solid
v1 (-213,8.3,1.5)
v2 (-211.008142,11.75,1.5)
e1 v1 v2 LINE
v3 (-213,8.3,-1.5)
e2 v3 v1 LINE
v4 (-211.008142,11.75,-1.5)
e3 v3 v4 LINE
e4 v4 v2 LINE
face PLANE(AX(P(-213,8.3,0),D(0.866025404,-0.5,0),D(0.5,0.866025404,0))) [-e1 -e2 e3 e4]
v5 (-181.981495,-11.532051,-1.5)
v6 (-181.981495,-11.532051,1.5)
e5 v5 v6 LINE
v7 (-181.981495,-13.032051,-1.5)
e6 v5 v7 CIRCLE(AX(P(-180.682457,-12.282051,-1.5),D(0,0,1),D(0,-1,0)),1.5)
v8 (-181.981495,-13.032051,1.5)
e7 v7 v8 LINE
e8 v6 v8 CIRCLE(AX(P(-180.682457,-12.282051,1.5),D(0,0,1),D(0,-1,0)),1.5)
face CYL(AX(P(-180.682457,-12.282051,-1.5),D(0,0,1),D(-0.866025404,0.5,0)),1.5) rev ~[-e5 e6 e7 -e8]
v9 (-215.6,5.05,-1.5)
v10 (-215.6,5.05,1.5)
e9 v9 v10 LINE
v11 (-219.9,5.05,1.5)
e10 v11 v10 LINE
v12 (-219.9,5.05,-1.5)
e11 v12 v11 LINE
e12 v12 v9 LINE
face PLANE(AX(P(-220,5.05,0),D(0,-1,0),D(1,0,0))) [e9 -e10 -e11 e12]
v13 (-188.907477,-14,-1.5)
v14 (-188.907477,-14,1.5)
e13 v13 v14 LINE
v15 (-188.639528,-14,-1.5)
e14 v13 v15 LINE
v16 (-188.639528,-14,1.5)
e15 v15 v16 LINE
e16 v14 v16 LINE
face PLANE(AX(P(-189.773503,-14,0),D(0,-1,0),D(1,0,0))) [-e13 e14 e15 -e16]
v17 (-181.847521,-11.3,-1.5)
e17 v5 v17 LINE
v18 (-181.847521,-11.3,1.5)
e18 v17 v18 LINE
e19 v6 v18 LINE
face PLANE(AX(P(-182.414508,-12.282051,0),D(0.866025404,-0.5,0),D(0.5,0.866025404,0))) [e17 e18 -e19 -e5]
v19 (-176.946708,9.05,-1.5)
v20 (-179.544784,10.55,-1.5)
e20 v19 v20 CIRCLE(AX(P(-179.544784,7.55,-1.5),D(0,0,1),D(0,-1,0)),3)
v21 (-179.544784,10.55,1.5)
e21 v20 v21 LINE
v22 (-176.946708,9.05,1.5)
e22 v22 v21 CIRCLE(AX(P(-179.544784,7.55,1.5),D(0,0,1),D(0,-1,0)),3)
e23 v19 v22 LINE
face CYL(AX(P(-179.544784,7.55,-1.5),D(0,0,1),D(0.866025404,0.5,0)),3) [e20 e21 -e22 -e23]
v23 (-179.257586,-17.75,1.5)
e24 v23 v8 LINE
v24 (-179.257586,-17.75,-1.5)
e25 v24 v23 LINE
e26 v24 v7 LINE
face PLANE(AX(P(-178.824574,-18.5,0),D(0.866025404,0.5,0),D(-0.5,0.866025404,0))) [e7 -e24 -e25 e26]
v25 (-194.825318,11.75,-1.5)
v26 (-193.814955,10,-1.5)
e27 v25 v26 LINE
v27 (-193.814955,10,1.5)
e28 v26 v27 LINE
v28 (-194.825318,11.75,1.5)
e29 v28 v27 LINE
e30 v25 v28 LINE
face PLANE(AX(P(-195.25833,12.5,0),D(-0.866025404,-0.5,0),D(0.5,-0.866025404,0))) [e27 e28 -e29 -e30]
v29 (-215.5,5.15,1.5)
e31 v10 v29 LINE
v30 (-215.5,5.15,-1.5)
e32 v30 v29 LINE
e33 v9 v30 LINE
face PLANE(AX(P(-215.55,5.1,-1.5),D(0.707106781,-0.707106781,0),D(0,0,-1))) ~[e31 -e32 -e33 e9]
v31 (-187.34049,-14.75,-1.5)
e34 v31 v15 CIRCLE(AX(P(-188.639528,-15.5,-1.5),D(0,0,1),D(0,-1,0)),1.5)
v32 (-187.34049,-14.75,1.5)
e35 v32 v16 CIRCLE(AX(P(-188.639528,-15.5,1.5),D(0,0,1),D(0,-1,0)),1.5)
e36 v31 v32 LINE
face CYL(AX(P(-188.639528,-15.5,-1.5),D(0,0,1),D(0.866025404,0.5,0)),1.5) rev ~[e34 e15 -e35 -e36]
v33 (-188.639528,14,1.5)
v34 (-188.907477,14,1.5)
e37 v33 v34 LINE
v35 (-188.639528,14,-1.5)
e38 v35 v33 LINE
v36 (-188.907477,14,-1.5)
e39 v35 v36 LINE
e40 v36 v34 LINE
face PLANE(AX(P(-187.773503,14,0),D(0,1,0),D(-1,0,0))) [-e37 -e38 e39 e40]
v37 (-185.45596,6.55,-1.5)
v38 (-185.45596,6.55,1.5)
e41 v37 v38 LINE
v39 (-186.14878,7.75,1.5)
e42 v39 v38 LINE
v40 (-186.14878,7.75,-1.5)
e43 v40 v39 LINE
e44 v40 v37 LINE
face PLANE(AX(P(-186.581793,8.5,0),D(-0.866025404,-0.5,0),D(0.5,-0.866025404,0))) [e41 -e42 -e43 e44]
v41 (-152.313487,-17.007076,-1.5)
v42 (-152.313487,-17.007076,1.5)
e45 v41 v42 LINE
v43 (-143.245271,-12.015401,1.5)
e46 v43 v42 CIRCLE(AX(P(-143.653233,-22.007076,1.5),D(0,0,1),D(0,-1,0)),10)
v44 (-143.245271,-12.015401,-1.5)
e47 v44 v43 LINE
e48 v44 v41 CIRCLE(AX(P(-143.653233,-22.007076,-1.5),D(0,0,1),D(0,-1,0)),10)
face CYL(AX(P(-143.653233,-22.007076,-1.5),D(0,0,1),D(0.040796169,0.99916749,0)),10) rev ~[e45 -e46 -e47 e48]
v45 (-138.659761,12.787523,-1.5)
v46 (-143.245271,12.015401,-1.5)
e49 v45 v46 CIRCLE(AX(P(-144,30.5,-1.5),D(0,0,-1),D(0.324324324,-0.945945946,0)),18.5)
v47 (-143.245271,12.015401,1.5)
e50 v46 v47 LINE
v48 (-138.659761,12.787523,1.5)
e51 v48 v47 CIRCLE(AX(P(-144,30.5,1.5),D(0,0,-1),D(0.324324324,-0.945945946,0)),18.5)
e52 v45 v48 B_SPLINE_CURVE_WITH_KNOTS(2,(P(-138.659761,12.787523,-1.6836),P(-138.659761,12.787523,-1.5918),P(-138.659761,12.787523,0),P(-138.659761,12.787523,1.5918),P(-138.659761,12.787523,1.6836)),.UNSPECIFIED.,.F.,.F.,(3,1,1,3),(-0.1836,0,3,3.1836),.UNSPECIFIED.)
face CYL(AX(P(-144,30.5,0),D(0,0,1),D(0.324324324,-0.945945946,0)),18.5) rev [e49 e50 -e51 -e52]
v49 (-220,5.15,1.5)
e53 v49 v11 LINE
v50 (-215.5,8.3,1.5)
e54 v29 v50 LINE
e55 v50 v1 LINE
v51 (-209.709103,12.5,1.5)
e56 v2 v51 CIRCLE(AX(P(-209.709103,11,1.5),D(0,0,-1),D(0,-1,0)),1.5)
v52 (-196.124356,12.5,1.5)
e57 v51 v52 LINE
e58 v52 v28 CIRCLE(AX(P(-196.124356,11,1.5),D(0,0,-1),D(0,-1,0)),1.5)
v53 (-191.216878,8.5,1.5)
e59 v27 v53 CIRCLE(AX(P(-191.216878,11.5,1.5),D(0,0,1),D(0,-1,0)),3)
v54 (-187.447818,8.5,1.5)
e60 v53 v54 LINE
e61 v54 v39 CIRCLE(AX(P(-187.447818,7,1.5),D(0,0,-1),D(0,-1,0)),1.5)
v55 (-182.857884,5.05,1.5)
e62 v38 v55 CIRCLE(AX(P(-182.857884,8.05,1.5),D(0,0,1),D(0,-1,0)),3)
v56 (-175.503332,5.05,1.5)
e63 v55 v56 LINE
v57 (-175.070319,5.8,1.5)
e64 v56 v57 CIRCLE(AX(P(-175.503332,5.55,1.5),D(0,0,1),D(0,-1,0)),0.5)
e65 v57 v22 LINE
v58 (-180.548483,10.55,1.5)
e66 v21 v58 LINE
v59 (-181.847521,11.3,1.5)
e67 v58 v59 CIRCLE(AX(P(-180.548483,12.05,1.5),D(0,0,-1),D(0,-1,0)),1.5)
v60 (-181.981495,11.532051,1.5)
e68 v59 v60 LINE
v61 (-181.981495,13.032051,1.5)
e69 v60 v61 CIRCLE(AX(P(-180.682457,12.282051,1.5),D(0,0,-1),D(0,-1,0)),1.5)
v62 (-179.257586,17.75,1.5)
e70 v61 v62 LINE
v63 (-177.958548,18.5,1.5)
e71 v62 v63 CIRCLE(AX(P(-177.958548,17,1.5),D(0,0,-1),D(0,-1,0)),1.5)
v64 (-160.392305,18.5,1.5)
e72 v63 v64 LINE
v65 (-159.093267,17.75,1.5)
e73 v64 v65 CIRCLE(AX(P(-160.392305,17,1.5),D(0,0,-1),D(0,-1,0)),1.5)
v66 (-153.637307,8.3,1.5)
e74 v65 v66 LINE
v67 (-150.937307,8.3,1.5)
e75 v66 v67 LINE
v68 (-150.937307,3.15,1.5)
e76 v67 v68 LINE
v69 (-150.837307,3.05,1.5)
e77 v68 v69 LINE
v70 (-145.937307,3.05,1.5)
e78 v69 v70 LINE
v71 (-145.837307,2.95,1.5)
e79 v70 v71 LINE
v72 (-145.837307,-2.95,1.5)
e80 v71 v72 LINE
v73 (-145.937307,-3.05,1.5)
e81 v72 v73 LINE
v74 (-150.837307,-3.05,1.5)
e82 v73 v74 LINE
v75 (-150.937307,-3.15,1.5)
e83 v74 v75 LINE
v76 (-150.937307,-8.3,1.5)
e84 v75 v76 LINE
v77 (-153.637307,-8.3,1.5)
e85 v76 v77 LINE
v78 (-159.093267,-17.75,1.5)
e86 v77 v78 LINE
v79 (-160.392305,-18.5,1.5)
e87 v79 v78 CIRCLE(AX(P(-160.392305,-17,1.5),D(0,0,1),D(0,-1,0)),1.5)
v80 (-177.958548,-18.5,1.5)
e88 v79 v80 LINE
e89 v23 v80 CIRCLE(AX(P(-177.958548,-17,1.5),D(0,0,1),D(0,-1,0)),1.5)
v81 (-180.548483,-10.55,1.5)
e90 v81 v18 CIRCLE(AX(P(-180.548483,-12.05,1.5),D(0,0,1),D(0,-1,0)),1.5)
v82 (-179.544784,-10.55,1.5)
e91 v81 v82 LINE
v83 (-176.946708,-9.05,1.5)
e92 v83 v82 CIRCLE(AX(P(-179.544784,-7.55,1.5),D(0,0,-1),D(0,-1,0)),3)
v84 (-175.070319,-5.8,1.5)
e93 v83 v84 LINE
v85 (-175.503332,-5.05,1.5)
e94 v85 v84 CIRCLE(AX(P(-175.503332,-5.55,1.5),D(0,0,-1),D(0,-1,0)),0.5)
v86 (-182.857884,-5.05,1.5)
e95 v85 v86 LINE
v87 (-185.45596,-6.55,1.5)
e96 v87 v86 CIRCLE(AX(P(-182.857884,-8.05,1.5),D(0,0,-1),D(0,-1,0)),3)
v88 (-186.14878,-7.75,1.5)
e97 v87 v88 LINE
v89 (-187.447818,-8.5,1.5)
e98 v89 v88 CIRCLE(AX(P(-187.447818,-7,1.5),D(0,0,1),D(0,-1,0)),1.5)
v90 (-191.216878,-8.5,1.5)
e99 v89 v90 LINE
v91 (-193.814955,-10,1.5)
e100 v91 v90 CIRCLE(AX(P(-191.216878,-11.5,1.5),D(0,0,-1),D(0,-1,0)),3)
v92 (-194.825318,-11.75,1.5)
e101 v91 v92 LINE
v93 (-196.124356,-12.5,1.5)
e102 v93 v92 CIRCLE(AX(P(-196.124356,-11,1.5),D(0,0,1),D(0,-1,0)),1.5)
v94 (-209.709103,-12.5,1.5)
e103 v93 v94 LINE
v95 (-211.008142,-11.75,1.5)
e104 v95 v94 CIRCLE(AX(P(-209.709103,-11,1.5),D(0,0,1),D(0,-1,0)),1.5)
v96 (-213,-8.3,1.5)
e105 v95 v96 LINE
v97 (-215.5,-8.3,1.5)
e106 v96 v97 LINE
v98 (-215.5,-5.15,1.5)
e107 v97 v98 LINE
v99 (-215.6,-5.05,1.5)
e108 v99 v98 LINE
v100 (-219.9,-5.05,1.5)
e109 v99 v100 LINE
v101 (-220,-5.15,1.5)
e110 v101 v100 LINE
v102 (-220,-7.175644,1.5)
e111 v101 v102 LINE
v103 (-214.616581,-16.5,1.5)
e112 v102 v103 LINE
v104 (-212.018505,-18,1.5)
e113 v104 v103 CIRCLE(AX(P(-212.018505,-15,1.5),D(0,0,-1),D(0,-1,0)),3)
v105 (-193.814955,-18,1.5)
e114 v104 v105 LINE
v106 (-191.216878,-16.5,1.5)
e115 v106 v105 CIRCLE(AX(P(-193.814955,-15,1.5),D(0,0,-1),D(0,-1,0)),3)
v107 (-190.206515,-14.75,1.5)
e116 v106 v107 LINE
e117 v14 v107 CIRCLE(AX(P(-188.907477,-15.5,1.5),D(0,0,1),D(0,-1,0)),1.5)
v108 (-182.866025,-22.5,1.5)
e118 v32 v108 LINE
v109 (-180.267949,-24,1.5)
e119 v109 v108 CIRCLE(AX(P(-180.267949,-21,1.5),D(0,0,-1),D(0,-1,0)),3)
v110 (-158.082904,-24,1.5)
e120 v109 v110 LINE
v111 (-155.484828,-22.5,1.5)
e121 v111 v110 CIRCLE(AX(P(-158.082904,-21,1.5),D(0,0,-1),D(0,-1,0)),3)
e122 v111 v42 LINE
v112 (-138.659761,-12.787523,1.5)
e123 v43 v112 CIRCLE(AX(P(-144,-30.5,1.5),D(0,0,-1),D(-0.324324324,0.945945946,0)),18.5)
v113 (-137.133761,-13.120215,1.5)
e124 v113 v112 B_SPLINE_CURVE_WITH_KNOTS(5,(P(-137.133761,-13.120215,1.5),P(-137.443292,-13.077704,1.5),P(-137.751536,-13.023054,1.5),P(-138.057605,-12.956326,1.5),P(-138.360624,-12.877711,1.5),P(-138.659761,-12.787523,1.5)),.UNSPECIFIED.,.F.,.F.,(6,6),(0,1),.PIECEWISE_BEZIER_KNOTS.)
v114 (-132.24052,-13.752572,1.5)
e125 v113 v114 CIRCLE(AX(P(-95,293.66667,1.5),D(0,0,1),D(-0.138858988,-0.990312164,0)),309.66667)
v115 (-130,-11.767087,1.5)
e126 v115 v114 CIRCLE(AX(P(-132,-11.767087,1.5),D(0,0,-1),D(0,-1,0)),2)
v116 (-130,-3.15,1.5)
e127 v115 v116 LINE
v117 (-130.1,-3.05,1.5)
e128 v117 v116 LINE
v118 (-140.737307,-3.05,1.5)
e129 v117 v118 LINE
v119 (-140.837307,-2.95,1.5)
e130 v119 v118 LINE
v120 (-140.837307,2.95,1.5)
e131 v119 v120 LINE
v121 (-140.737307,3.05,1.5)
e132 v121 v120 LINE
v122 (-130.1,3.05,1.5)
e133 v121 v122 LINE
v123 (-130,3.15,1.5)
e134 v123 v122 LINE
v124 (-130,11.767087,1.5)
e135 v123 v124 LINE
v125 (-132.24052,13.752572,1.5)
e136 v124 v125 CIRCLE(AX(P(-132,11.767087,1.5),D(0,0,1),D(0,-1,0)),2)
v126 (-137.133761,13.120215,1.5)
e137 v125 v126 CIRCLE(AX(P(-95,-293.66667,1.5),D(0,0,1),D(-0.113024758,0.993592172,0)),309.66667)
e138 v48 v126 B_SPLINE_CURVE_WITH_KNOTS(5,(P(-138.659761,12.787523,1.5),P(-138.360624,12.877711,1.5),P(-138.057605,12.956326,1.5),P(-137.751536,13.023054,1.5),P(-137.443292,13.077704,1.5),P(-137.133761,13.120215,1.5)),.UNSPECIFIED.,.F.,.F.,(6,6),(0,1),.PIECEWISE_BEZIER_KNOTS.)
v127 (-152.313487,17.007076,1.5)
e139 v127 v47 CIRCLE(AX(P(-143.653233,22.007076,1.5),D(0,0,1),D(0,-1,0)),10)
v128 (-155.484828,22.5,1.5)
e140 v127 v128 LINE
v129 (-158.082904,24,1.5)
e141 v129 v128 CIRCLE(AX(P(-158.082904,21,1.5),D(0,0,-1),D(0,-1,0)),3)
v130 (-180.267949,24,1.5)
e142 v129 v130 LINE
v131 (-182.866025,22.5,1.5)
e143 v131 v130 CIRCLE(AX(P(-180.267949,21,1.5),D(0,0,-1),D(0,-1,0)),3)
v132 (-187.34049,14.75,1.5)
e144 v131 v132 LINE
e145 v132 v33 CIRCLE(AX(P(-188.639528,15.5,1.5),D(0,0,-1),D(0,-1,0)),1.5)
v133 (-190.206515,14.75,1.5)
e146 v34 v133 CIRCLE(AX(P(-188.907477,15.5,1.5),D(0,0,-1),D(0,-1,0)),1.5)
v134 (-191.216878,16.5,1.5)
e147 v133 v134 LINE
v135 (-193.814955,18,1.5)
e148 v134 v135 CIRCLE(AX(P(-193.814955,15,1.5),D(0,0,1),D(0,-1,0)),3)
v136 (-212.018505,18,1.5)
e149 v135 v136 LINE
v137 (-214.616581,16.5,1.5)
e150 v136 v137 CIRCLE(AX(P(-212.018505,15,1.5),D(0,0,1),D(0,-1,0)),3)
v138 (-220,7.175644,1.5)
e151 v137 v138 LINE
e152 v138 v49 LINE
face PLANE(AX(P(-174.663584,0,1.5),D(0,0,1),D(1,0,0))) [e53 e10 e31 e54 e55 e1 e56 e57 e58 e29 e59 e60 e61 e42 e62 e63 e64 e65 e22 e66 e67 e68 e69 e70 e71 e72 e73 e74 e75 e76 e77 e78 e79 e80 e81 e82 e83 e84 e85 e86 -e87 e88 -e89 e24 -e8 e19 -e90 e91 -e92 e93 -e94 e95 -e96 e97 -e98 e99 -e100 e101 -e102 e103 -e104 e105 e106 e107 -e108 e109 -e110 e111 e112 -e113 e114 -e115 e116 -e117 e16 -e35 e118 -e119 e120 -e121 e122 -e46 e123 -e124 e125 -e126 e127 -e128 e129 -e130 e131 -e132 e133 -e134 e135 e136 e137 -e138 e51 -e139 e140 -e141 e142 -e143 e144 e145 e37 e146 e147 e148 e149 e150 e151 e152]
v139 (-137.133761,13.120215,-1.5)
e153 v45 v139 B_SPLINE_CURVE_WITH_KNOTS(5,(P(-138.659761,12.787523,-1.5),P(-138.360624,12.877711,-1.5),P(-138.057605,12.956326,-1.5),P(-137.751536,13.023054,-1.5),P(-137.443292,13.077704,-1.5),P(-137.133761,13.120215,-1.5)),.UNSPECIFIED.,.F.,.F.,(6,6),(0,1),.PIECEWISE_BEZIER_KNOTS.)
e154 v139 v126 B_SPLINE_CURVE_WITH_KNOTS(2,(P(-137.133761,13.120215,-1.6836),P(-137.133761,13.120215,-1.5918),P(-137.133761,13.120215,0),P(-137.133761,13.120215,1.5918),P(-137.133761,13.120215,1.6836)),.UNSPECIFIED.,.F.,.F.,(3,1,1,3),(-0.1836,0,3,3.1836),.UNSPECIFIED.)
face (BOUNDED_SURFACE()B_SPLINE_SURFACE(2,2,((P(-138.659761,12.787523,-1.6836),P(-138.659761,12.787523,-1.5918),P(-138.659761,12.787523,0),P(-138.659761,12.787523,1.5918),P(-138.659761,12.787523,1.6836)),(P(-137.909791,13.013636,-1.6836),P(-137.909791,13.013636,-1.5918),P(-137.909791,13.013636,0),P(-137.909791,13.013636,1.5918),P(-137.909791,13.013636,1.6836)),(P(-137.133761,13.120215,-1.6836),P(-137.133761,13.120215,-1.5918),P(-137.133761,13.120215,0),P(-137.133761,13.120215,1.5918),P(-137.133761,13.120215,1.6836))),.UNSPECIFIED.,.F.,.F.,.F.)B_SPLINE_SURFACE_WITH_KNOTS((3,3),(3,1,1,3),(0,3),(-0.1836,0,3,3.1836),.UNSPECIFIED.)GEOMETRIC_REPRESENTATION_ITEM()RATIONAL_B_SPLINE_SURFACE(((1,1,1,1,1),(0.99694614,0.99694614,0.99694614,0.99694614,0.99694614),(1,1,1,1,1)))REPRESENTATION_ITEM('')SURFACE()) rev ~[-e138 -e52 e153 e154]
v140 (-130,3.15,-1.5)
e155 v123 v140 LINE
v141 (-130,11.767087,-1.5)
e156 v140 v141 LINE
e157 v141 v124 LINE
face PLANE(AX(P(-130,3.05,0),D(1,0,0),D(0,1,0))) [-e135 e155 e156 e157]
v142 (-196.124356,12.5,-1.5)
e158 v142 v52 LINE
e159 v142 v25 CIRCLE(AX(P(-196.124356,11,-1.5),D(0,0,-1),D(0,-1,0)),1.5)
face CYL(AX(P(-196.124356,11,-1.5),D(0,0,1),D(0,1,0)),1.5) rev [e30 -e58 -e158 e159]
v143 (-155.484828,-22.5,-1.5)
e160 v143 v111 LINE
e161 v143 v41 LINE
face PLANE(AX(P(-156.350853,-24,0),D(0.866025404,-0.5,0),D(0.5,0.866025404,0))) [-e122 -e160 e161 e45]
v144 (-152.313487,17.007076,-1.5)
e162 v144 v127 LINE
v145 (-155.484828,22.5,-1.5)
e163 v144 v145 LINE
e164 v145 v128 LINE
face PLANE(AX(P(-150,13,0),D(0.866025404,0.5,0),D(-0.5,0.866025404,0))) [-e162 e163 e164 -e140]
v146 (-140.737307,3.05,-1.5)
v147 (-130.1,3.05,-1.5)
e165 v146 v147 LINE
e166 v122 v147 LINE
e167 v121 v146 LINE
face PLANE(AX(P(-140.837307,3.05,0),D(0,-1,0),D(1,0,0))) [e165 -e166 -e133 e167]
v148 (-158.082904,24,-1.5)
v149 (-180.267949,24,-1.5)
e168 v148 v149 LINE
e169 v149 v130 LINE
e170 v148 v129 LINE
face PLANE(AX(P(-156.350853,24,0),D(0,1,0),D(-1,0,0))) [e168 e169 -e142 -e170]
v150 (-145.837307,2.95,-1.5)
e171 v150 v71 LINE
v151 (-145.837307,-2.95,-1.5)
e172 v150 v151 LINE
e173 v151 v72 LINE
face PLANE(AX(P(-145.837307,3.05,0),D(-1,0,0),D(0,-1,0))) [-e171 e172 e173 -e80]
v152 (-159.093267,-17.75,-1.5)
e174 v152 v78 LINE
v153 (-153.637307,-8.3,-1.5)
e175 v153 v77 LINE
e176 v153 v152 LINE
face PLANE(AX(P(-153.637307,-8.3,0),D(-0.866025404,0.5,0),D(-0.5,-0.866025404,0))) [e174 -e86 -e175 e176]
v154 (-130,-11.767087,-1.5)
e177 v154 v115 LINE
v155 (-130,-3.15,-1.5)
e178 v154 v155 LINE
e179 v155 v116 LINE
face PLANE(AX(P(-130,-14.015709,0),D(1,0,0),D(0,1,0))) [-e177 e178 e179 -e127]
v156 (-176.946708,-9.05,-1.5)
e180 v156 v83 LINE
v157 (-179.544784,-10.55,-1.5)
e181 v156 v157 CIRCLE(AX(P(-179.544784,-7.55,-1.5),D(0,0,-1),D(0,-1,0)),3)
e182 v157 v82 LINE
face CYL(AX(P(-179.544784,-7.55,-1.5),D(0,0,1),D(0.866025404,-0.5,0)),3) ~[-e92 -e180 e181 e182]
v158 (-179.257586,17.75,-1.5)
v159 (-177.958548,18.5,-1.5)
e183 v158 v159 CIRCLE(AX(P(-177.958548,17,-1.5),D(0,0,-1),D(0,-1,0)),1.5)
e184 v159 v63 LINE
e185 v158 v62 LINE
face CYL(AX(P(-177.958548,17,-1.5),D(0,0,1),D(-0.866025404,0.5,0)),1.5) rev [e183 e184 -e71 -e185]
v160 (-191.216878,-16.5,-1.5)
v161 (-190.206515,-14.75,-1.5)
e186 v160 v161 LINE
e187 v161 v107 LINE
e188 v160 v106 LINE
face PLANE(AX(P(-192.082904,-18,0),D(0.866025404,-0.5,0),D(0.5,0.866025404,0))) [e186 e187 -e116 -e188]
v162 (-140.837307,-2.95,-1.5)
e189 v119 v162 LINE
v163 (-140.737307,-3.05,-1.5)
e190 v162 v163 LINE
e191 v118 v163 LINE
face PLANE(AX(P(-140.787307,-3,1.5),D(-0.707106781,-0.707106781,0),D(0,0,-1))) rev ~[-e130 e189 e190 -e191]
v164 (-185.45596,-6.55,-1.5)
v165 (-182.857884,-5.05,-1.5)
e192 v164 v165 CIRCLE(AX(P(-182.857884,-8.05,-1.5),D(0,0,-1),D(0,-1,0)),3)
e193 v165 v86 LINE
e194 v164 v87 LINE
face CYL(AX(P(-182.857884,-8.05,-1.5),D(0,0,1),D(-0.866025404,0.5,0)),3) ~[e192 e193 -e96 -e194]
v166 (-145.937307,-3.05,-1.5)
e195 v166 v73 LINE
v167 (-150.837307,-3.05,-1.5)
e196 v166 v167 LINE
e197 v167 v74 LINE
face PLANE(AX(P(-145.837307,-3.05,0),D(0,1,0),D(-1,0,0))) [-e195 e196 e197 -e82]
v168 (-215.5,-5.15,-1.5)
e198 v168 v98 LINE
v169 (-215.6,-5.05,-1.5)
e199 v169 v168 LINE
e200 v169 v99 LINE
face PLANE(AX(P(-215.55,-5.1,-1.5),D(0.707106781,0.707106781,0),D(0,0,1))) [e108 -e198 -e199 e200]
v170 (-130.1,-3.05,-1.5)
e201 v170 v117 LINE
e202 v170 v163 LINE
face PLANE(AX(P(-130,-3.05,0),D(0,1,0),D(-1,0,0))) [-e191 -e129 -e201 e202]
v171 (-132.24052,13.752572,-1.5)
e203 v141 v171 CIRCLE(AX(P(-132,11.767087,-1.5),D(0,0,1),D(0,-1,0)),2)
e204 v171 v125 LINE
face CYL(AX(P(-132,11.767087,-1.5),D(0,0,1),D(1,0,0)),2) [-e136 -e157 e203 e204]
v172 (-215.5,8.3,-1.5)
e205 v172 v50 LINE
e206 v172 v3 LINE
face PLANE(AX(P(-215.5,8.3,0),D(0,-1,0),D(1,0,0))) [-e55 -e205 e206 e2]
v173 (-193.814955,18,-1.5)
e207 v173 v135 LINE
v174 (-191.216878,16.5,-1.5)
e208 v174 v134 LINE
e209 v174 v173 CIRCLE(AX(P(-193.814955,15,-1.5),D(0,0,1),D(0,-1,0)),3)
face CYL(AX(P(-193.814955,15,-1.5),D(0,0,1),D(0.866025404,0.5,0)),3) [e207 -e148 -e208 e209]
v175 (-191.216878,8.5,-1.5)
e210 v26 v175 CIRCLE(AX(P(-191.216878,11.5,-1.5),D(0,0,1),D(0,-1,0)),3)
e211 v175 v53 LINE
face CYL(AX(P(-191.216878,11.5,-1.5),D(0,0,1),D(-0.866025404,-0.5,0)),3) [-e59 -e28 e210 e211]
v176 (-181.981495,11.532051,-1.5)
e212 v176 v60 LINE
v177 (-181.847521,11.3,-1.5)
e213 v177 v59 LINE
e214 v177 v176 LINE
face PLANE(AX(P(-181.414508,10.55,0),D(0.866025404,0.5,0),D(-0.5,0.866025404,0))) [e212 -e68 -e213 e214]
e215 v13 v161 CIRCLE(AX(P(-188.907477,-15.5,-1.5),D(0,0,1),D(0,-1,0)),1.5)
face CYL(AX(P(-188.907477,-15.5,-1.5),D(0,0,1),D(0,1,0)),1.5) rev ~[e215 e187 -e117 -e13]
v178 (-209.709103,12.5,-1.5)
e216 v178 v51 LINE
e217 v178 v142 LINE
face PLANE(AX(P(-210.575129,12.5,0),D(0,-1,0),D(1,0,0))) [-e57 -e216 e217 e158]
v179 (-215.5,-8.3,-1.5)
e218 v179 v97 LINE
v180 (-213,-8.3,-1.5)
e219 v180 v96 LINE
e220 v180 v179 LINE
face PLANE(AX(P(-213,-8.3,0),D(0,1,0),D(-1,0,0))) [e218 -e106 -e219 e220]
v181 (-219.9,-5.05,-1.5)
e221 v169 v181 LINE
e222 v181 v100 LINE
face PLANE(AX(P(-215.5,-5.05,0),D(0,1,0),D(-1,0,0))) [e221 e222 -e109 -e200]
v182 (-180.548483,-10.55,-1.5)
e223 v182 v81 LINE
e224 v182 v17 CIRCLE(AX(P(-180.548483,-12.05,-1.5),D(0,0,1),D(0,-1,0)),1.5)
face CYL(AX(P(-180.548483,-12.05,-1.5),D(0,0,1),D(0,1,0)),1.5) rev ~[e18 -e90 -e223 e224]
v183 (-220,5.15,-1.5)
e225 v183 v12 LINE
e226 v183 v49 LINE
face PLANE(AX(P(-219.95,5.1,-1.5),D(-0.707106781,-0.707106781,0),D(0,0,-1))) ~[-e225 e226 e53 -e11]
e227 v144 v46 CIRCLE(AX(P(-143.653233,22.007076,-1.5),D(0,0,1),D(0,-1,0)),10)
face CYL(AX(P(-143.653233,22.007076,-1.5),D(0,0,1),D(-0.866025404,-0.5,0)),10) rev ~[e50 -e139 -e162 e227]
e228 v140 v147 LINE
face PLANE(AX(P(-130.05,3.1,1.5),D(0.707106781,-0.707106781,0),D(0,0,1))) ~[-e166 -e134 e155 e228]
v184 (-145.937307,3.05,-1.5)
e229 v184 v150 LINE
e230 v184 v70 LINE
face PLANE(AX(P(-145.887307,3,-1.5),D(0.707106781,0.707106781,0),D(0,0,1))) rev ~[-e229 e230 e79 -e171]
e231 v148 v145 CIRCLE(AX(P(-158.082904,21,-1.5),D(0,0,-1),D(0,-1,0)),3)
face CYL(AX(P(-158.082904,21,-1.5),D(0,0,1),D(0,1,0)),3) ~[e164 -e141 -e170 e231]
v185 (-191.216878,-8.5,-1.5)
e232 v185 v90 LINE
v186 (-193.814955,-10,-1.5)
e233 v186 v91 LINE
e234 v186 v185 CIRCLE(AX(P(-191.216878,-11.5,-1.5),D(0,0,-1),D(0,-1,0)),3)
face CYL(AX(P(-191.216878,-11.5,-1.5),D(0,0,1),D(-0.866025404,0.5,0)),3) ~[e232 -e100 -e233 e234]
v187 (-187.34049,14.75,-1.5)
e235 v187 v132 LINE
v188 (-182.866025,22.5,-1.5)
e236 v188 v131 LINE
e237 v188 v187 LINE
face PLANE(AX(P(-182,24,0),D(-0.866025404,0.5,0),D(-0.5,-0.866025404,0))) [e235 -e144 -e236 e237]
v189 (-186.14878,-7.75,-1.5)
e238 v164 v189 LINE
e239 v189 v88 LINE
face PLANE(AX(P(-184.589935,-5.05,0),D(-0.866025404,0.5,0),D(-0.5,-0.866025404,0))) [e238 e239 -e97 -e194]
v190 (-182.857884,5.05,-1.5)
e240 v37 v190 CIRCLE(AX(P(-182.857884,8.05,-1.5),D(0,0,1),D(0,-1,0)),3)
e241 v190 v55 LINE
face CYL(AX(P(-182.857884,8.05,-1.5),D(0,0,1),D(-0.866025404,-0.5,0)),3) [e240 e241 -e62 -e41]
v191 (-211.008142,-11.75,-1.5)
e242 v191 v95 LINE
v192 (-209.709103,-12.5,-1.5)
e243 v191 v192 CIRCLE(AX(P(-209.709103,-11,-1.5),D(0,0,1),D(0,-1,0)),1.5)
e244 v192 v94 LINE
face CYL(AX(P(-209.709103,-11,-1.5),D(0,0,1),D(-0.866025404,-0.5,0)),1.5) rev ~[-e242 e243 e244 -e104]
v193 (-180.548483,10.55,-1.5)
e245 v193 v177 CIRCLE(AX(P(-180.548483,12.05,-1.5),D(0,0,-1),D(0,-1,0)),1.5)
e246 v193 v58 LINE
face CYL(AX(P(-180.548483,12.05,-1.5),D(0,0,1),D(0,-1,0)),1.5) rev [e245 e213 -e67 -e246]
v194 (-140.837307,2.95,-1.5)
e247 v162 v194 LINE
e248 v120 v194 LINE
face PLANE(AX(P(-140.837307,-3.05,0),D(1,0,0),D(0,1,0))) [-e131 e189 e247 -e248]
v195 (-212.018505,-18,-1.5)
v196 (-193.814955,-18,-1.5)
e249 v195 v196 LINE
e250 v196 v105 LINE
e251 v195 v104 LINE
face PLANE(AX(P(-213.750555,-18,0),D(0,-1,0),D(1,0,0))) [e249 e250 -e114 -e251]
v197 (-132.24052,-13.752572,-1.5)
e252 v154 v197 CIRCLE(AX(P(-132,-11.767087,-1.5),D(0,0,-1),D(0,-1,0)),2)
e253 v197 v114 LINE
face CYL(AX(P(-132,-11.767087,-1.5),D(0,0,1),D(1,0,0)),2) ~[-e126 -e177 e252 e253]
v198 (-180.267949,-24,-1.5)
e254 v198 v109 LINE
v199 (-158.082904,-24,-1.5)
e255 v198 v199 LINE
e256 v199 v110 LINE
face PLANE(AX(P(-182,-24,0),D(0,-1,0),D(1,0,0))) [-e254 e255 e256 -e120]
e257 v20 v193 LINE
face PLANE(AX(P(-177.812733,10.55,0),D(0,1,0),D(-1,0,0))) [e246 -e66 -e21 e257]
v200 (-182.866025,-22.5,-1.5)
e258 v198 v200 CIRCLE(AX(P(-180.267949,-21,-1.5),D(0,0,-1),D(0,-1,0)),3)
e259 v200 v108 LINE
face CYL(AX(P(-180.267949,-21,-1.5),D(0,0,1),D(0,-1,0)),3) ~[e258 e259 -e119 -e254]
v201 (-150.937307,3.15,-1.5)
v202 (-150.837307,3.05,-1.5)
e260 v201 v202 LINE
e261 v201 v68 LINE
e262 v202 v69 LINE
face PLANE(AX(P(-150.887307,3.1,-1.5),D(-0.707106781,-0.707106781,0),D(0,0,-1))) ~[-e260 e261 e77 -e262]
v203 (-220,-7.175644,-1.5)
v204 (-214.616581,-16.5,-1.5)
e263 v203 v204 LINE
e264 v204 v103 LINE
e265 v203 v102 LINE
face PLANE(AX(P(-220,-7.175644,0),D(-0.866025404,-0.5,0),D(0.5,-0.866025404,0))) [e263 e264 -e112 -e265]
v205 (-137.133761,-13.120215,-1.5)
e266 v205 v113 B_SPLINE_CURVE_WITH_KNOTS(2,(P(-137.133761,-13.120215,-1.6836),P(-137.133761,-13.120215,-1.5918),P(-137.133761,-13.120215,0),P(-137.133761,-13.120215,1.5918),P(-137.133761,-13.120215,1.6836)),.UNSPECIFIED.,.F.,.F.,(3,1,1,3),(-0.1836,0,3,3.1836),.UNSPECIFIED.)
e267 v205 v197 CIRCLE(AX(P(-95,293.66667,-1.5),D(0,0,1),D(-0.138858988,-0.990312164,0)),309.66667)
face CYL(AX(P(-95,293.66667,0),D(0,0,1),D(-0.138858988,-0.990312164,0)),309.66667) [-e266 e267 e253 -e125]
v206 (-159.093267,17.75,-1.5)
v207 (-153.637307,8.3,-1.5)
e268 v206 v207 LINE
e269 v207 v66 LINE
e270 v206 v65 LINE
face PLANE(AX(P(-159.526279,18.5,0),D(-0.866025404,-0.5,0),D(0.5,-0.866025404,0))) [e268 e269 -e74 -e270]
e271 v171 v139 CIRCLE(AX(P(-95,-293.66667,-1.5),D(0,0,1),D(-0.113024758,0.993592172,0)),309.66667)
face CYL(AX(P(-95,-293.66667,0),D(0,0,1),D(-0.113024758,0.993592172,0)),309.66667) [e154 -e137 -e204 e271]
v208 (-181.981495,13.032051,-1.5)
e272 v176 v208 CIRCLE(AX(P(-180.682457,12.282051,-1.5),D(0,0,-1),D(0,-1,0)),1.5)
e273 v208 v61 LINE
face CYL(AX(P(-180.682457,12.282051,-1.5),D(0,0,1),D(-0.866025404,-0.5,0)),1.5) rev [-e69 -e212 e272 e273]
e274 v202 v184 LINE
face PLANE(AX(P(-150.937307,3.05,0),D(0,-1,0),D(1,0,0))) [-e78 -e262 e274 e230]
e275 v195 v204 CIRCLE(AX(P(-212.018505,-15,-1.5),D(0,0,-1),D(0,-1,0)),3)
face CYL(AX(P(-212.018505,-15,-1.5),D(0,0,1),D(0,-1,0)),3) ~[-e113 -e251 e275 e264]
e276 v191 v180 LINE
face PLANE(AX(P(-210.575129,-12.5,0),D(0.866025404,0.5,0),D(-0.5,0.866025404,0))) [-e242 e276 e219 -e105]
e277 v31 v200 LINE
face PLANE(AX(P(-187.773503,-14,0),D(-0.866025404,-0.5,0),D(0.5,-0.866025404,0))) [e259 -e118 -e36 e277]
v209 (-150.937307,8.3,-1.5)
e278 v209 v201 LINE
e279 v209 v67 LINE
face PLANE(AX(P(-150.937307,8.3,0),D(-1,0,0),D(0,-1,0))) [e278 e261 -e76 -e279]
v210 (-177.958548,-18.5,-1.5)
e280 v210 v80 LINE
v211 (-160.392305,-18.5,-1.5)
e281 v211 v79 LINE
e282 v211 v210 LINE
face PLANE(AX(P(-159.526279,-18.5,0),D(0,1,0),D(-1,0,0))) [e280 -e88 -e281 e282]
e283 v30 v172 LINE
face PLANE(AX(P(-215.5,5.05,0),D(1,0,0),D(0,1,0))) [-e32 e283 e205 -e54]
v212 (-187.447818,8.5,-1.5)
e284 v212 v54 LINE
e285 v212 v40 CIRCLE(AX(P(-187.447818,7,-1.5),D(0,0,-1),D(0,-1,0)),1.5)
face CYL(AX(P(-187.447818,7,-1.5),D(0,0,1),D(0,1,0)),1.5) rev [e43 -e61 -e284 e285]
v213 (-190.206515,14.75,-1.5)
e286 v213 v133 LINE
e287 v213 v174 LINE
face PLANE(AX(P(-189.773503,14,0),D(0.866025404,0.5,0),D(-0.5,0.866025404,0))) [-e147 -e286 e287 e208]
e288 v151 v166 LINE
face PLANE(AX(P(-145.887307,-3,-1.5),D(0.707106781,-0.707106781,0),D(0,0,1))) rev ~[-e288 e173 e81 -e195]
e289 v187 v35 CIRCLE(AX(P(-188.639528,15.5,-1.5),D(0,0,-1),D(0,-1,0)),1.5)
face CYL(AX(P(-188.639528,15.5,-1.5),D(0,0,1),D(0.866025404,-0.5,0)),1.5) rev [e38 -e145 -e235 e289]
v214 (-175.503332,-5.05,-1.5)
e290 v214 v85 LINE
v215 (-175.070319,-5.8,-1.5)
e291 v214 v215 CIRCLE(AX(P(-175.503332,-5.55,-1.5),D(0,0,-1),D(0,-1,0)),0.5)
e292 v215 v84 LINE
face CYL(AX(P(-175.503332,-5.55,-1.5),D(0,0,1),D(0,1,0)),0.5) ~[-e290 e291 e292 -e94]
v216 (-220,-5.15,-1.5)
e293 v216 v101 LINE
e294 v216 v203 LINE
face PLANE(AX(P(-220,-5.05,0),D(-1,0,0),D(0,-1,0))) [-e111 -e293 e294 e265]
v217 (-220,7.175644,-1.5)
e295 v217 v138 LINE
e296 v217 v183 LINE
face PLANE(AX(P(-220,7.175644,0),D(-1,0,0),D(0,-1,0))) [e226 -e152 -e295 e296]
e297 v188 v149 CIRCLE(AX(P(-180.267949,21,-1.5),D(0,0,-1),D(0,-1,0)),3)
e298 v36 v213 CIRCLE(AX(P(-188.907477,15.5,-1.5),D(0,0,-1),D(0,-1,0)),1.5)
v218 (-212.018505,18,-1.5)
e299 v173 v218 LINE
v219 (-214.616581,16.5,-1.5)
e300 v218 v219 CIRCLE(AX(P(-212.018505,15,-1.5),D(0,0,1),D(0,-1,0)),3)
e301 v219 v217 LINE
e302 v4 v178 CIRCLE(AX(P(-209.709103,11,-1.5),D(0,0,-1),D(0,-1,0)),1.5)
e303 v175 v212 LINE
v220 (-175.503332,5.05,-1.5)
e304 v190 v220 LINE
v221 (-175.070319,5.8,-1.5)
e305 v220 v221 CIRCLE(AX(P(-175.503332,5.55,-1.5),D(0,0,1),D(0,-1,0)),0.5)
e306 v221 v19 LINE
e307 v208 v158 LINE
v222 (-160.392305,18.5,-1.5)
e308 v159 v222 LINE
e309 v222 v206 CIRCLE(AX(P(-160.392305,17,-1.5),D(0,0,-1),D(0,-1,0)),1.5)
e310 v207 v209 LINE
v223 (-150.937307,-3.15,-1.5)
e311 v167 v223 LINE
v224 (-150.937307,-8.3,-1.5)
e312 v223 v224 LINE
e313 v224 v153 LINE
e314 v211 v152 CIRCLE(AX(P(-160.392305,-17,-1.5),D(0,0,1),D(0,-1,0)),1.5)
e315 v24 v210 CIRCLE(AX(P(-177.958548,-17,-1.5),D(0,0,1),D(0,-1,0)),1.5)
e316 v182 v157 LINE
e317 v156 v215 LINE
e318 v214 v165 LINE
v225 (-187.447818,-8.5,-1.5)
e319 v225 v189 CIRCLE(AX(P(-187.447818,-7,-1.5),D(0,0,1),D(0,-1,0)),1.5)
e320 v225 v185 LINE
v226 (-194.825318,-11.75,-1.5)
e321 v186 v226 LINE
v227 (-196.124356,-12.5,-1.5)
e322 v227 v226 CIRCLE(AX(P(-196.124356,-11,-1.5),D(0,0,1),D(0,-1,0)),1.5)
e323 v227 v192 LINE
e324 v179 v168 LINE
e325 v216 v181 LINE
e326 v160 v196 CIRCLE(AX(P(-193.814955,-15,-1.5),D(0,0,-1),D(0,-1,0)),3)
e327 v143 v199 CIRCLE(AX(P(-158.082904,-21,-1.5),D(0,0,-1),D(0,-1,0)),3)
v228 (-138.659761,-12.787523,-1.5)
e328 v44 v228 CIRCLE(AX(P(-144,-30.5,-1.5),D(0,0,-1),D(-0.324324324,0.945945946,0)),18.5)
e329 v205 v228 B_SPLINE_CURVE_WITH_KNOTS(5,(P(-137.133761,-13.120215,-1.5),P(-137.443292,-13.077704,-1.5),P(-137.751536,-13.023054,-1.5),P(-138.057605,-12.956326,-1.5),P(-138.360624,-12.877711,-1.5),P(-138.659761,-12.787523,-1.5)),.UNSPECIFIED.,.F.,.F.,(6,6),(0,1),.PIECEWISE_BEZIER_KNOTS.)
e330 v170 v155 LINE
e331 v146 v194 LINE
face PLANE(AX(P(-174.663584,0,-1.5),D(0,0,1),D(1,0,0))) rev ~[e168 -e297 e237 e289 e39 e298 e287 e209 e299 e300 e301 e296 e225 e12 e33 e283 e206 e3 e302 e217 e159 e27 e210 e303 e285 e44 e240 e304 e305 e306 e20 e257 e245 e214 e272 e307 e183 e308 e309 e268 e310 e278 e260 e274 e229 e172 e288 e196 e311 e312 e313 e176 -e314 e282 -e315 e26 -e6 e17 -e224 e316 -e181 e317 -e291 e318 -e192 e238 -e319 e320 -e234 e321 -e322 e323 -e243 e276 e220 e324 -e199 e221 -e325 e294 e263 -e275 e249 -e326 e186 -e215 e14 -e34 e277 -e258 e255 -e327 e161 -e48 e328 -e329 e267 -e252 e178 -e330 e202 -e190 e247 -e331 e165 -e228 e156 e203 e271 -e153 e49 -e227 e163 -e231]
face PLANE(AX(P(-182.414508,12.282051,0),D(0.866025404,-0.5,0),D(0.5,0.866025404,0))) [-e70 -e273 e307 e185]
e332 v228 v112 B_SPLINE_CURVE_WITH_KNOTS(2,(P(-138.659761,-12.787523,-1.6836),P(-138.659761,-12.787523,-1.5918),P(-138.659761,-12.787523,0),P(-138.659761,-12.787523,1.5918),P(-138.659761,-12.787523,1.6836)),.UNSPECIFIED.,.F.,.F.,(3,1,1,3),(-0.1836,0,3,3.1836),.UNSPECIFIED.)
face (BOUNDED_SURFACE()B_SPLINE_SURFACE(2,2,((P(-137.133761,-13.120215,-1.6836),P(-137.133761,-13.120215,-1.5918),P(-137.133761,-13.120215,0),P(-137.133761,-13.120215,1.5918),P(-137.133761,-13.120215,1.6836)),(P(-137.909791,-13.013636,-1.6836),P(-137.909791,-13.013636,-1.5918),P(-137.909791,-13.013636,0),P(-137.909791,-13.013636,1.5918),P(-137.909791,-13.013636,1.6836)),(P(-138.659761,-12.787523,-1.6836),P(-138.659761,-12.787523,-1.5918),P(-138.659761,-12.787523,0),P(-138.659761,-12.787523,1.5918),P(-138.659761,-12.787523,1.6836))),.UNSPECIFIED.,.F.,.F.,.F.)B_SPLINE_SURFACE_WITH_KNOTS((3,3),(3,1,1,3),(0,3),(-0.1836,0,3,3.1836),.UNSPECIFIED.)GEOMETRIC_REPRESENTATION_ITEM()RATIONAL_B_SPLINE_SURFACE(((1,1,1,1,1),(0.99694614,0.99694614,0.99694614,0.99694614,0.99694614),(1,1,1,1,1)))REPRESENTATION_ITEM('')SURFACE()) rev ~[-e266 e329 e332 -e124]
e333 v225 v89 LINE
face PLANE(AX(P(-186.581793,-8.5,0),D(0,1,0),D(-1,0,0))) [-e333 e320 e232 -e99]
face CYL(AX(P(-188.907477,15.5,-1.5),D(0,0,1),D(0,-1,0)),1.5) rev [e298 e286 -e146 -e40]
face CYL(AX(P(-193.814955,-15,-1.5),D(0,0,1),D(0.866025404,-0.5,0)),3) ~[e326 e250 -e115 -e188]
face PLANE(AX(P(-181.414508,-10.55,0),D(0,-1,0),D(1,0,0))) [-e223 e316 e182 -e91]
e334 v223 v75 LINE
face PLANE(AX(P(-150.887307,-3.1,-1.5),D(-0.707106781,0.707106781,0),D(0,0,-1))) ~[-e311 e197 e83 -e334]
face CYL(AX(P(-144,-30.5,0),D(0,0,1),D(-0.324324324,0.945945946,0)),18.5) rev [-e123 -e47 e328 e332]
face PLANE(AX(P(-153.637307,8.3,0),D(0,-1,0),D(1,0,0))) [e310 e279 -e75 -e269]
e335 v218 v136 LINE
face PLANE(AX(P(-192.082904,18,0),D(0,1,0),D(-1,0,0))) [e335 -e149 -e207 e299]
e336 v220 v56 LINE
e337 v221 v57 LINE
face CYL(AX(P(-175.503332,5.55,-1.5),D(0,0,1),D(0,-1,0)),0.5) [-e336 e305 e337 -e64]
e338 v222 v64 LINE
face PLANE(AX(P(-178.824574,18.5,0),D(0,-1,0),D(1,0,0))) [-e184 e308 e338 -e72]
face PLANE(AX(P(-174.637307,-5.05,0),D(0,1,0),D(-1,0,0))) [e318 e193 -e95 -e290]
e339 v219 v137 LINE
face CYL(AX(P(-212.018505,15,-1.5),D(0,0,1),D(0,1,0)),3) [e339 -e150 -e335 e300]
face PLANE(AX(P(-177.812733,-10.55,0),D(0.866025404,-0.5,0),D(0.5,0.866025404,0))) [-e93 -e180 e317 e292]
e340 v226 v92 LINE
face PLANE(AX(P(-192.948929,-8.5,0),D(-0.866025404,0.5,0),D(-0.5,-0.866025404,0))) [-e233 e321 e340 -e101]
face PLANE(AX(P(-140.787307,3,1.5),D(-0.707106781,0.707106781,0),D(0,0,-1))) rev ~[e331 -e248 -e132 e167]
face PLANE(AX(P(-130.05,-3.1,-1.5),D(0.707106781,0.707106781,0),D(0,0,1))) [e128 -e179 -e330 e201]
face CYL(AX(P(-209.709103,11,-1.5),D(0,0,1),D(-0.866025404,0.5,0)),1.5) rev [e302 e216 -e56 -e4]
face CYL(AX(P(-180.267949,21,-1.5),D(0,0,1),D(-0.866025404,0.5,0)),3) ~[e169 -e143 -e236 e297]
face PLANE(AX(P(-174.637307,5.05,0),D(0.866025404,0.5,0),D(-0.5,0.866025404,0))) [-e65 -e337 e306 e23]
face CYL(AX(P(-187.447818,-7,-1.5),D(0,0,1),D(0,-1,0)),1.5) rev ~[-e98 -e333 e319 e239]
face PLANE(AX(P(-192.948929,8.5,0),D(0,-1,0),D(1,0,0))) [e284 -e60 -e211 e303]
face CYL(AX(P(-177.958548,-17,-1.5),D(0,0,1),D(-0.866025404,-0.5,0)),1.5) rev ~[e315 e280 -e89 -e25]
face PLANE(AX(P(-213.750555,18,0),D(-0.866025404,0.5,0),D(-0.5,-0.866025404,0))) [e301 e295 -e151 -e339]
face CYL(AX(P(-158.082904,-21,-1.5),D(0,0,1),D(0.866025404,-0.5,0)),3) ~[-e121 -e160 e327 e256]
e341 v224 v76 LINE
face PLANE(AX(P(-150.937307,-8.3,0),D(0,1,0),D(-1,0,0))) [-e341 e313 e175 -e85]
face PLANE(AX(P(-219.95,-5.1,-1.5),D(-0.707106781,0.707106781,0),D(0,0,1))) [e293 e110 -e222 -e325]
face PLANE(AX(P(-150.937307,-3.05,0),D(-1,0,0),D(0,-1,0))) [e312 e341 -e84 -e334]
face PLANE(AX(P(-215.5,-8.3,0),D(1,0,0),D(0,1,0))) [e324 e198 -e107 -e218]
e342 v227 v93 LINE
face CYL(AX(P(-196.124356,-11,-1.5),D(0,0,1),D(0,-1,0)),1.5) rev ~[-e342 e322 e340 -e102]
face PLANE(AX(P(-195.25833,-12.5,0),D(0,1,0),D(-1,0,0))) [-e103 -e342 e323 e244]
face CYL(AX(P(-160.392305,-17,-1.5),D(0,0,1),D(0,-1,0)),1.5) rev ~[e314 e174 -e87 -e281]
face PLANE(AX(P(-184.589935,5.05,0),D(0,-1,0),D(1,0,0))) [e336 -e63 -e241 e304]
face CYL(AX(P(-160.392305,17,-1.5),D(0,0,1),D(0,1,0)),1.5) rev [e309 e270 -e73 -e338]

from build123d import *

# Parameters (mm, degrees)
EXTRUDE_1_DEPTH = 1.5
FILLET_4_R      = 10
FILLET_7_R      = 1.5
FILLET_8_R      = 3
CHAMFER_1_SIZE  = 0.1
FILLET_9_R      = 2
FILLET_10_R     = 0.5


with BuildPart() as part:
    # 草图1 → 凸台-拉伸1 (new, symmetric)
    with BuildSketch(Plane.XY):
        with BuildLine():
            Line((-130, 3.05), (-130, 14.015709241))
            ThreePointArc((-130, 14.015709241), (-134.003306479, 13.533897343), (-138, 13))
            ThreePointArc((-138, 13), (-144, 12), (-150, 13))
            Line((-150, 13), (-156.350852961, 24))
            Line((-156.350852961, 24), (-182, 24))
            Line((-182, 24), (-187.773502692, 14))
            Line((-187.773502692, 14), (-189.773502692, 14))
            Line((-189.773502692, 14), (-192.082903769, 18))
            Line((-192.082903769, 18), (-213.75055535, 18))
            Line((-213.75055535, 18), (-220, 7.175644347))
            Line((-220, 7.175644347), (-220, 5.05))
            Line((-220, 5.05), (-215.5, 5.05))
            Line((-215.5, 5.05), (-215.5, 8.3))
            Line((-215.5, 8.3), (-213, 8.3))
            Line((-213, 8.3), (-210.575128869, 12.5))
            Line((-210.575128869, 12.5), (-195.258330249, 12.5))
            Line((-195.258330249, 12.5), (-192.948929172, 8.5))
            Line((-192.948929172, 8.5), (-186.581793069, 8.5))
            Line((-186.581793069, 8.5), (-184.58993464, 5.05))
            Line((-184.58993464, 5.05), (-174.637306696, 5.05))
            Line((-174.637306696, 5.05), (-177.812733176, 10.55))
            Line((-177.812733176, 10.55), (-181.41450816, 10.55))
            Line((-181.41450816, 10.55), (-182.41450816, 12.282050808))
            Line((-182.41450816, 12.282050808), (-178.824573519, 18.5))
            Line((-178.824573519, 18.5), (-159.526279442, 18.5))
            Line((-159.526279442, 18.5), (-153.637306696, 8.3))
            Line((-153.637306696, 8.3), (-150.937306696, 8.3))
            Line((-150.937306696, 8.3), (-150.937306696, 3.05))
            Line((-150.937306696, 3.05), (-145.837306696, 3.05))
            Line((-145.837306696, 3.05), (-145.837306696, -3.05))
            Line((-145.837306696, -3.05), (-150.937306696, -3.05))
            Line((-150.937306696, -3.05), (-150.937306696, -8.3))
            Line((-150.937306696, -8.3), (-153.637306696, -8.3))
            Line((-153.637306696, -8.3), (-159.526279442, -18.5))
            Line((-159.526279442, -18.5), (-178.824573519, -18.5))
            Line((-178.824573519, -18.5), (-182.41450816, -12.282050808))
            Line((-182.41450816, -12.282050808), (-181.41450816, -10.55))
            Line((-181.41450816, -10.55), (-177.812733176, -10.55))
            Line((-177.812733176, -10.55), (-174.637306696, -5.05))
            Line((-174.637306696, -5.05), (-184.58993464, -5.05))
            Line((-184.58993464, -5.05), (-186.581793069, -8.5))
            Line((-186.581793069, -8.5), (-192.948929172, -8.5))
            Line((-192.948929172, -8.5), (-195.258330249, -12.5))
            Line((-195.258330249, -12.5), (-210.575128869, -12.5))
            Line((-210.575128869, -12.5), (-213, -8.3))
            Line((-213, -8.3), (-215.5, -8.3))
            Line((-215.5, -8.3), (-215.5, -5.05))
            Line((-215.5, -5.05), (-220, -5.05))
            Line((-220, -5.05), (-220, -7.175644347))
            Line((-220, -7.175644347), (-213.75055535, -18))
            Line((-213.75055535, -18), (-192.082903769, -18))
            Line((-192.082903769, -18), (-189.773502692, -14))
            Line((-189.773502692, -14), (-187.773502692, -14))
            Line((-187.773502692, -14), (-182, -24))
            Line((-182, -24), (-156.350852961, -24))
            Line((-156.350852961, -24), (-150, -13))
            ThreePointArc((-150, -13), (-144, -12), (-138, -13))
            ThreePointArc((-138, -13), (-134.003306479, -13.533897343), (-130, -14.015709241))
            Line((-130, -14.015709241), (-130, -3.05))
            Line((-130, -3.05), (-140.837306696, -3.05))
            Line((-140.837306696, -3.05), (-140.837306696, 3.05))
            Line((-140.837306696, 3.05), (-130, 3.05))
        make_face()
    extrude(amount=EXTRUDE_1_DEPTH, both=True)

    # 圆角4
    fillet_4_edges = [part.edges().sort_by_distance(p)[0] for p in [
        (-138, 13, 0),
        (-138, -13, 0),
        (-150, -13, 0),
        (-150, 13, 0),
    ]]
    fillet(fillet_4_edges, radius=FILLET_4_R)

    # 圆角7
    fillet_7_edges = [part.edges().sort_by_distance(p)[0] for p in [
        (-187.773502692, -14, 0),
        (-189.773502692, -14, 0),
        (-210.575128869, -12.5, 0),
        (-195.258330249, -12.5, 0),
        (-186.581793069, -8.5, 0),
        (-181.41450816, -10.55, 0),
        (-182.41450816, -12.282050808, 0),
        (-178.824573519, -18.5, 0),
        (-159.526279442, -18.5, 0),
        (-159.526279442, 18.5, 0),
        (-178.824573519, 18.5, 0),
        (-182.41450816, 12.282050808, 0),
        (-181.41450816, 10.55, 0),
        (-186.581793069, 8.5, 0),
        (-195.258330249, 12.5, 0),
        (-210.575128869, 12.5, 0),
        (-189.773502692, 14, 0),
        (-187.773502692, 14, 0),
    ]]
    fillet(fillet_7_edges, radius=FILLET_7_R)

    # 圆角8
    fillet_8_edges = [part.edges().sort_by_distance(p)[0] for p in [
        (-156.350852961, -24, 0),
        (-182, -24, 0),
        (-192.082903769, -18, 0),
        (-213.75055535, -18, 0),
        (-192.948929172, -8.5, 0),
        (-184.58993464, -5.05, 0),
        (-177.812733176, -10.55, 0),
        (-177.812733176, 10.55, 0),
        (-184.58993464, 5.05, 0),
        (-192.948929172, 8.5, 0),
        (-213.75055535, 18, 0),
        (-192.082903769, 18, 0),
        (-182, 24, 0),
        (-156.350852961, 24, 0),
    ]]
    fillet(fillet_8_edges, radius=FILLET_8_R)

    # 倒角1
    chamfer_1_edges = [part.edges().sort_by_distance(p)[0] for p in [
        (-130, 3.05, 0),
        (-140.837306696, 3.05, 0),
        (-140.837306696, -3.05, 0),
        (-130, -3.05, 0),
        (-220, -5.05, 0),
        (-215.5, -5.05, 0),
        (-150.937306696, -3.05, 0),
        (-145.837306696, -3.05, 0),
        (-145.837306696, 3.05, 0),
        (-150.937306696, 3.05, 0),
        (-215.5, 5.05, 0),
        (-220, 5.05, 0),
    ]]
    chamfer(chamfer_1_edges, length=CHAMFER_1_SIZE)

    # 圆角9
    fillet_9_edges = [part.edges().sort_by_distance(p)[0] for p in [
        (-130, 14.015709241, 0),
        (-130, -14.015709241, 0),
    ]]
    fillet(fillet_9_edges, radius=FILLET_9_R)

    # 圆角10
    fillet_10_edges = [part.edges().sort_by_distance(p)[0] for p in [
        (-174.637306696, -5.05, 0),
        (-174.637306696, 5.05, 0),
    ]]
    fillet(fillet_10_edges, radius=FILLET_10_R)


solid = part.part
